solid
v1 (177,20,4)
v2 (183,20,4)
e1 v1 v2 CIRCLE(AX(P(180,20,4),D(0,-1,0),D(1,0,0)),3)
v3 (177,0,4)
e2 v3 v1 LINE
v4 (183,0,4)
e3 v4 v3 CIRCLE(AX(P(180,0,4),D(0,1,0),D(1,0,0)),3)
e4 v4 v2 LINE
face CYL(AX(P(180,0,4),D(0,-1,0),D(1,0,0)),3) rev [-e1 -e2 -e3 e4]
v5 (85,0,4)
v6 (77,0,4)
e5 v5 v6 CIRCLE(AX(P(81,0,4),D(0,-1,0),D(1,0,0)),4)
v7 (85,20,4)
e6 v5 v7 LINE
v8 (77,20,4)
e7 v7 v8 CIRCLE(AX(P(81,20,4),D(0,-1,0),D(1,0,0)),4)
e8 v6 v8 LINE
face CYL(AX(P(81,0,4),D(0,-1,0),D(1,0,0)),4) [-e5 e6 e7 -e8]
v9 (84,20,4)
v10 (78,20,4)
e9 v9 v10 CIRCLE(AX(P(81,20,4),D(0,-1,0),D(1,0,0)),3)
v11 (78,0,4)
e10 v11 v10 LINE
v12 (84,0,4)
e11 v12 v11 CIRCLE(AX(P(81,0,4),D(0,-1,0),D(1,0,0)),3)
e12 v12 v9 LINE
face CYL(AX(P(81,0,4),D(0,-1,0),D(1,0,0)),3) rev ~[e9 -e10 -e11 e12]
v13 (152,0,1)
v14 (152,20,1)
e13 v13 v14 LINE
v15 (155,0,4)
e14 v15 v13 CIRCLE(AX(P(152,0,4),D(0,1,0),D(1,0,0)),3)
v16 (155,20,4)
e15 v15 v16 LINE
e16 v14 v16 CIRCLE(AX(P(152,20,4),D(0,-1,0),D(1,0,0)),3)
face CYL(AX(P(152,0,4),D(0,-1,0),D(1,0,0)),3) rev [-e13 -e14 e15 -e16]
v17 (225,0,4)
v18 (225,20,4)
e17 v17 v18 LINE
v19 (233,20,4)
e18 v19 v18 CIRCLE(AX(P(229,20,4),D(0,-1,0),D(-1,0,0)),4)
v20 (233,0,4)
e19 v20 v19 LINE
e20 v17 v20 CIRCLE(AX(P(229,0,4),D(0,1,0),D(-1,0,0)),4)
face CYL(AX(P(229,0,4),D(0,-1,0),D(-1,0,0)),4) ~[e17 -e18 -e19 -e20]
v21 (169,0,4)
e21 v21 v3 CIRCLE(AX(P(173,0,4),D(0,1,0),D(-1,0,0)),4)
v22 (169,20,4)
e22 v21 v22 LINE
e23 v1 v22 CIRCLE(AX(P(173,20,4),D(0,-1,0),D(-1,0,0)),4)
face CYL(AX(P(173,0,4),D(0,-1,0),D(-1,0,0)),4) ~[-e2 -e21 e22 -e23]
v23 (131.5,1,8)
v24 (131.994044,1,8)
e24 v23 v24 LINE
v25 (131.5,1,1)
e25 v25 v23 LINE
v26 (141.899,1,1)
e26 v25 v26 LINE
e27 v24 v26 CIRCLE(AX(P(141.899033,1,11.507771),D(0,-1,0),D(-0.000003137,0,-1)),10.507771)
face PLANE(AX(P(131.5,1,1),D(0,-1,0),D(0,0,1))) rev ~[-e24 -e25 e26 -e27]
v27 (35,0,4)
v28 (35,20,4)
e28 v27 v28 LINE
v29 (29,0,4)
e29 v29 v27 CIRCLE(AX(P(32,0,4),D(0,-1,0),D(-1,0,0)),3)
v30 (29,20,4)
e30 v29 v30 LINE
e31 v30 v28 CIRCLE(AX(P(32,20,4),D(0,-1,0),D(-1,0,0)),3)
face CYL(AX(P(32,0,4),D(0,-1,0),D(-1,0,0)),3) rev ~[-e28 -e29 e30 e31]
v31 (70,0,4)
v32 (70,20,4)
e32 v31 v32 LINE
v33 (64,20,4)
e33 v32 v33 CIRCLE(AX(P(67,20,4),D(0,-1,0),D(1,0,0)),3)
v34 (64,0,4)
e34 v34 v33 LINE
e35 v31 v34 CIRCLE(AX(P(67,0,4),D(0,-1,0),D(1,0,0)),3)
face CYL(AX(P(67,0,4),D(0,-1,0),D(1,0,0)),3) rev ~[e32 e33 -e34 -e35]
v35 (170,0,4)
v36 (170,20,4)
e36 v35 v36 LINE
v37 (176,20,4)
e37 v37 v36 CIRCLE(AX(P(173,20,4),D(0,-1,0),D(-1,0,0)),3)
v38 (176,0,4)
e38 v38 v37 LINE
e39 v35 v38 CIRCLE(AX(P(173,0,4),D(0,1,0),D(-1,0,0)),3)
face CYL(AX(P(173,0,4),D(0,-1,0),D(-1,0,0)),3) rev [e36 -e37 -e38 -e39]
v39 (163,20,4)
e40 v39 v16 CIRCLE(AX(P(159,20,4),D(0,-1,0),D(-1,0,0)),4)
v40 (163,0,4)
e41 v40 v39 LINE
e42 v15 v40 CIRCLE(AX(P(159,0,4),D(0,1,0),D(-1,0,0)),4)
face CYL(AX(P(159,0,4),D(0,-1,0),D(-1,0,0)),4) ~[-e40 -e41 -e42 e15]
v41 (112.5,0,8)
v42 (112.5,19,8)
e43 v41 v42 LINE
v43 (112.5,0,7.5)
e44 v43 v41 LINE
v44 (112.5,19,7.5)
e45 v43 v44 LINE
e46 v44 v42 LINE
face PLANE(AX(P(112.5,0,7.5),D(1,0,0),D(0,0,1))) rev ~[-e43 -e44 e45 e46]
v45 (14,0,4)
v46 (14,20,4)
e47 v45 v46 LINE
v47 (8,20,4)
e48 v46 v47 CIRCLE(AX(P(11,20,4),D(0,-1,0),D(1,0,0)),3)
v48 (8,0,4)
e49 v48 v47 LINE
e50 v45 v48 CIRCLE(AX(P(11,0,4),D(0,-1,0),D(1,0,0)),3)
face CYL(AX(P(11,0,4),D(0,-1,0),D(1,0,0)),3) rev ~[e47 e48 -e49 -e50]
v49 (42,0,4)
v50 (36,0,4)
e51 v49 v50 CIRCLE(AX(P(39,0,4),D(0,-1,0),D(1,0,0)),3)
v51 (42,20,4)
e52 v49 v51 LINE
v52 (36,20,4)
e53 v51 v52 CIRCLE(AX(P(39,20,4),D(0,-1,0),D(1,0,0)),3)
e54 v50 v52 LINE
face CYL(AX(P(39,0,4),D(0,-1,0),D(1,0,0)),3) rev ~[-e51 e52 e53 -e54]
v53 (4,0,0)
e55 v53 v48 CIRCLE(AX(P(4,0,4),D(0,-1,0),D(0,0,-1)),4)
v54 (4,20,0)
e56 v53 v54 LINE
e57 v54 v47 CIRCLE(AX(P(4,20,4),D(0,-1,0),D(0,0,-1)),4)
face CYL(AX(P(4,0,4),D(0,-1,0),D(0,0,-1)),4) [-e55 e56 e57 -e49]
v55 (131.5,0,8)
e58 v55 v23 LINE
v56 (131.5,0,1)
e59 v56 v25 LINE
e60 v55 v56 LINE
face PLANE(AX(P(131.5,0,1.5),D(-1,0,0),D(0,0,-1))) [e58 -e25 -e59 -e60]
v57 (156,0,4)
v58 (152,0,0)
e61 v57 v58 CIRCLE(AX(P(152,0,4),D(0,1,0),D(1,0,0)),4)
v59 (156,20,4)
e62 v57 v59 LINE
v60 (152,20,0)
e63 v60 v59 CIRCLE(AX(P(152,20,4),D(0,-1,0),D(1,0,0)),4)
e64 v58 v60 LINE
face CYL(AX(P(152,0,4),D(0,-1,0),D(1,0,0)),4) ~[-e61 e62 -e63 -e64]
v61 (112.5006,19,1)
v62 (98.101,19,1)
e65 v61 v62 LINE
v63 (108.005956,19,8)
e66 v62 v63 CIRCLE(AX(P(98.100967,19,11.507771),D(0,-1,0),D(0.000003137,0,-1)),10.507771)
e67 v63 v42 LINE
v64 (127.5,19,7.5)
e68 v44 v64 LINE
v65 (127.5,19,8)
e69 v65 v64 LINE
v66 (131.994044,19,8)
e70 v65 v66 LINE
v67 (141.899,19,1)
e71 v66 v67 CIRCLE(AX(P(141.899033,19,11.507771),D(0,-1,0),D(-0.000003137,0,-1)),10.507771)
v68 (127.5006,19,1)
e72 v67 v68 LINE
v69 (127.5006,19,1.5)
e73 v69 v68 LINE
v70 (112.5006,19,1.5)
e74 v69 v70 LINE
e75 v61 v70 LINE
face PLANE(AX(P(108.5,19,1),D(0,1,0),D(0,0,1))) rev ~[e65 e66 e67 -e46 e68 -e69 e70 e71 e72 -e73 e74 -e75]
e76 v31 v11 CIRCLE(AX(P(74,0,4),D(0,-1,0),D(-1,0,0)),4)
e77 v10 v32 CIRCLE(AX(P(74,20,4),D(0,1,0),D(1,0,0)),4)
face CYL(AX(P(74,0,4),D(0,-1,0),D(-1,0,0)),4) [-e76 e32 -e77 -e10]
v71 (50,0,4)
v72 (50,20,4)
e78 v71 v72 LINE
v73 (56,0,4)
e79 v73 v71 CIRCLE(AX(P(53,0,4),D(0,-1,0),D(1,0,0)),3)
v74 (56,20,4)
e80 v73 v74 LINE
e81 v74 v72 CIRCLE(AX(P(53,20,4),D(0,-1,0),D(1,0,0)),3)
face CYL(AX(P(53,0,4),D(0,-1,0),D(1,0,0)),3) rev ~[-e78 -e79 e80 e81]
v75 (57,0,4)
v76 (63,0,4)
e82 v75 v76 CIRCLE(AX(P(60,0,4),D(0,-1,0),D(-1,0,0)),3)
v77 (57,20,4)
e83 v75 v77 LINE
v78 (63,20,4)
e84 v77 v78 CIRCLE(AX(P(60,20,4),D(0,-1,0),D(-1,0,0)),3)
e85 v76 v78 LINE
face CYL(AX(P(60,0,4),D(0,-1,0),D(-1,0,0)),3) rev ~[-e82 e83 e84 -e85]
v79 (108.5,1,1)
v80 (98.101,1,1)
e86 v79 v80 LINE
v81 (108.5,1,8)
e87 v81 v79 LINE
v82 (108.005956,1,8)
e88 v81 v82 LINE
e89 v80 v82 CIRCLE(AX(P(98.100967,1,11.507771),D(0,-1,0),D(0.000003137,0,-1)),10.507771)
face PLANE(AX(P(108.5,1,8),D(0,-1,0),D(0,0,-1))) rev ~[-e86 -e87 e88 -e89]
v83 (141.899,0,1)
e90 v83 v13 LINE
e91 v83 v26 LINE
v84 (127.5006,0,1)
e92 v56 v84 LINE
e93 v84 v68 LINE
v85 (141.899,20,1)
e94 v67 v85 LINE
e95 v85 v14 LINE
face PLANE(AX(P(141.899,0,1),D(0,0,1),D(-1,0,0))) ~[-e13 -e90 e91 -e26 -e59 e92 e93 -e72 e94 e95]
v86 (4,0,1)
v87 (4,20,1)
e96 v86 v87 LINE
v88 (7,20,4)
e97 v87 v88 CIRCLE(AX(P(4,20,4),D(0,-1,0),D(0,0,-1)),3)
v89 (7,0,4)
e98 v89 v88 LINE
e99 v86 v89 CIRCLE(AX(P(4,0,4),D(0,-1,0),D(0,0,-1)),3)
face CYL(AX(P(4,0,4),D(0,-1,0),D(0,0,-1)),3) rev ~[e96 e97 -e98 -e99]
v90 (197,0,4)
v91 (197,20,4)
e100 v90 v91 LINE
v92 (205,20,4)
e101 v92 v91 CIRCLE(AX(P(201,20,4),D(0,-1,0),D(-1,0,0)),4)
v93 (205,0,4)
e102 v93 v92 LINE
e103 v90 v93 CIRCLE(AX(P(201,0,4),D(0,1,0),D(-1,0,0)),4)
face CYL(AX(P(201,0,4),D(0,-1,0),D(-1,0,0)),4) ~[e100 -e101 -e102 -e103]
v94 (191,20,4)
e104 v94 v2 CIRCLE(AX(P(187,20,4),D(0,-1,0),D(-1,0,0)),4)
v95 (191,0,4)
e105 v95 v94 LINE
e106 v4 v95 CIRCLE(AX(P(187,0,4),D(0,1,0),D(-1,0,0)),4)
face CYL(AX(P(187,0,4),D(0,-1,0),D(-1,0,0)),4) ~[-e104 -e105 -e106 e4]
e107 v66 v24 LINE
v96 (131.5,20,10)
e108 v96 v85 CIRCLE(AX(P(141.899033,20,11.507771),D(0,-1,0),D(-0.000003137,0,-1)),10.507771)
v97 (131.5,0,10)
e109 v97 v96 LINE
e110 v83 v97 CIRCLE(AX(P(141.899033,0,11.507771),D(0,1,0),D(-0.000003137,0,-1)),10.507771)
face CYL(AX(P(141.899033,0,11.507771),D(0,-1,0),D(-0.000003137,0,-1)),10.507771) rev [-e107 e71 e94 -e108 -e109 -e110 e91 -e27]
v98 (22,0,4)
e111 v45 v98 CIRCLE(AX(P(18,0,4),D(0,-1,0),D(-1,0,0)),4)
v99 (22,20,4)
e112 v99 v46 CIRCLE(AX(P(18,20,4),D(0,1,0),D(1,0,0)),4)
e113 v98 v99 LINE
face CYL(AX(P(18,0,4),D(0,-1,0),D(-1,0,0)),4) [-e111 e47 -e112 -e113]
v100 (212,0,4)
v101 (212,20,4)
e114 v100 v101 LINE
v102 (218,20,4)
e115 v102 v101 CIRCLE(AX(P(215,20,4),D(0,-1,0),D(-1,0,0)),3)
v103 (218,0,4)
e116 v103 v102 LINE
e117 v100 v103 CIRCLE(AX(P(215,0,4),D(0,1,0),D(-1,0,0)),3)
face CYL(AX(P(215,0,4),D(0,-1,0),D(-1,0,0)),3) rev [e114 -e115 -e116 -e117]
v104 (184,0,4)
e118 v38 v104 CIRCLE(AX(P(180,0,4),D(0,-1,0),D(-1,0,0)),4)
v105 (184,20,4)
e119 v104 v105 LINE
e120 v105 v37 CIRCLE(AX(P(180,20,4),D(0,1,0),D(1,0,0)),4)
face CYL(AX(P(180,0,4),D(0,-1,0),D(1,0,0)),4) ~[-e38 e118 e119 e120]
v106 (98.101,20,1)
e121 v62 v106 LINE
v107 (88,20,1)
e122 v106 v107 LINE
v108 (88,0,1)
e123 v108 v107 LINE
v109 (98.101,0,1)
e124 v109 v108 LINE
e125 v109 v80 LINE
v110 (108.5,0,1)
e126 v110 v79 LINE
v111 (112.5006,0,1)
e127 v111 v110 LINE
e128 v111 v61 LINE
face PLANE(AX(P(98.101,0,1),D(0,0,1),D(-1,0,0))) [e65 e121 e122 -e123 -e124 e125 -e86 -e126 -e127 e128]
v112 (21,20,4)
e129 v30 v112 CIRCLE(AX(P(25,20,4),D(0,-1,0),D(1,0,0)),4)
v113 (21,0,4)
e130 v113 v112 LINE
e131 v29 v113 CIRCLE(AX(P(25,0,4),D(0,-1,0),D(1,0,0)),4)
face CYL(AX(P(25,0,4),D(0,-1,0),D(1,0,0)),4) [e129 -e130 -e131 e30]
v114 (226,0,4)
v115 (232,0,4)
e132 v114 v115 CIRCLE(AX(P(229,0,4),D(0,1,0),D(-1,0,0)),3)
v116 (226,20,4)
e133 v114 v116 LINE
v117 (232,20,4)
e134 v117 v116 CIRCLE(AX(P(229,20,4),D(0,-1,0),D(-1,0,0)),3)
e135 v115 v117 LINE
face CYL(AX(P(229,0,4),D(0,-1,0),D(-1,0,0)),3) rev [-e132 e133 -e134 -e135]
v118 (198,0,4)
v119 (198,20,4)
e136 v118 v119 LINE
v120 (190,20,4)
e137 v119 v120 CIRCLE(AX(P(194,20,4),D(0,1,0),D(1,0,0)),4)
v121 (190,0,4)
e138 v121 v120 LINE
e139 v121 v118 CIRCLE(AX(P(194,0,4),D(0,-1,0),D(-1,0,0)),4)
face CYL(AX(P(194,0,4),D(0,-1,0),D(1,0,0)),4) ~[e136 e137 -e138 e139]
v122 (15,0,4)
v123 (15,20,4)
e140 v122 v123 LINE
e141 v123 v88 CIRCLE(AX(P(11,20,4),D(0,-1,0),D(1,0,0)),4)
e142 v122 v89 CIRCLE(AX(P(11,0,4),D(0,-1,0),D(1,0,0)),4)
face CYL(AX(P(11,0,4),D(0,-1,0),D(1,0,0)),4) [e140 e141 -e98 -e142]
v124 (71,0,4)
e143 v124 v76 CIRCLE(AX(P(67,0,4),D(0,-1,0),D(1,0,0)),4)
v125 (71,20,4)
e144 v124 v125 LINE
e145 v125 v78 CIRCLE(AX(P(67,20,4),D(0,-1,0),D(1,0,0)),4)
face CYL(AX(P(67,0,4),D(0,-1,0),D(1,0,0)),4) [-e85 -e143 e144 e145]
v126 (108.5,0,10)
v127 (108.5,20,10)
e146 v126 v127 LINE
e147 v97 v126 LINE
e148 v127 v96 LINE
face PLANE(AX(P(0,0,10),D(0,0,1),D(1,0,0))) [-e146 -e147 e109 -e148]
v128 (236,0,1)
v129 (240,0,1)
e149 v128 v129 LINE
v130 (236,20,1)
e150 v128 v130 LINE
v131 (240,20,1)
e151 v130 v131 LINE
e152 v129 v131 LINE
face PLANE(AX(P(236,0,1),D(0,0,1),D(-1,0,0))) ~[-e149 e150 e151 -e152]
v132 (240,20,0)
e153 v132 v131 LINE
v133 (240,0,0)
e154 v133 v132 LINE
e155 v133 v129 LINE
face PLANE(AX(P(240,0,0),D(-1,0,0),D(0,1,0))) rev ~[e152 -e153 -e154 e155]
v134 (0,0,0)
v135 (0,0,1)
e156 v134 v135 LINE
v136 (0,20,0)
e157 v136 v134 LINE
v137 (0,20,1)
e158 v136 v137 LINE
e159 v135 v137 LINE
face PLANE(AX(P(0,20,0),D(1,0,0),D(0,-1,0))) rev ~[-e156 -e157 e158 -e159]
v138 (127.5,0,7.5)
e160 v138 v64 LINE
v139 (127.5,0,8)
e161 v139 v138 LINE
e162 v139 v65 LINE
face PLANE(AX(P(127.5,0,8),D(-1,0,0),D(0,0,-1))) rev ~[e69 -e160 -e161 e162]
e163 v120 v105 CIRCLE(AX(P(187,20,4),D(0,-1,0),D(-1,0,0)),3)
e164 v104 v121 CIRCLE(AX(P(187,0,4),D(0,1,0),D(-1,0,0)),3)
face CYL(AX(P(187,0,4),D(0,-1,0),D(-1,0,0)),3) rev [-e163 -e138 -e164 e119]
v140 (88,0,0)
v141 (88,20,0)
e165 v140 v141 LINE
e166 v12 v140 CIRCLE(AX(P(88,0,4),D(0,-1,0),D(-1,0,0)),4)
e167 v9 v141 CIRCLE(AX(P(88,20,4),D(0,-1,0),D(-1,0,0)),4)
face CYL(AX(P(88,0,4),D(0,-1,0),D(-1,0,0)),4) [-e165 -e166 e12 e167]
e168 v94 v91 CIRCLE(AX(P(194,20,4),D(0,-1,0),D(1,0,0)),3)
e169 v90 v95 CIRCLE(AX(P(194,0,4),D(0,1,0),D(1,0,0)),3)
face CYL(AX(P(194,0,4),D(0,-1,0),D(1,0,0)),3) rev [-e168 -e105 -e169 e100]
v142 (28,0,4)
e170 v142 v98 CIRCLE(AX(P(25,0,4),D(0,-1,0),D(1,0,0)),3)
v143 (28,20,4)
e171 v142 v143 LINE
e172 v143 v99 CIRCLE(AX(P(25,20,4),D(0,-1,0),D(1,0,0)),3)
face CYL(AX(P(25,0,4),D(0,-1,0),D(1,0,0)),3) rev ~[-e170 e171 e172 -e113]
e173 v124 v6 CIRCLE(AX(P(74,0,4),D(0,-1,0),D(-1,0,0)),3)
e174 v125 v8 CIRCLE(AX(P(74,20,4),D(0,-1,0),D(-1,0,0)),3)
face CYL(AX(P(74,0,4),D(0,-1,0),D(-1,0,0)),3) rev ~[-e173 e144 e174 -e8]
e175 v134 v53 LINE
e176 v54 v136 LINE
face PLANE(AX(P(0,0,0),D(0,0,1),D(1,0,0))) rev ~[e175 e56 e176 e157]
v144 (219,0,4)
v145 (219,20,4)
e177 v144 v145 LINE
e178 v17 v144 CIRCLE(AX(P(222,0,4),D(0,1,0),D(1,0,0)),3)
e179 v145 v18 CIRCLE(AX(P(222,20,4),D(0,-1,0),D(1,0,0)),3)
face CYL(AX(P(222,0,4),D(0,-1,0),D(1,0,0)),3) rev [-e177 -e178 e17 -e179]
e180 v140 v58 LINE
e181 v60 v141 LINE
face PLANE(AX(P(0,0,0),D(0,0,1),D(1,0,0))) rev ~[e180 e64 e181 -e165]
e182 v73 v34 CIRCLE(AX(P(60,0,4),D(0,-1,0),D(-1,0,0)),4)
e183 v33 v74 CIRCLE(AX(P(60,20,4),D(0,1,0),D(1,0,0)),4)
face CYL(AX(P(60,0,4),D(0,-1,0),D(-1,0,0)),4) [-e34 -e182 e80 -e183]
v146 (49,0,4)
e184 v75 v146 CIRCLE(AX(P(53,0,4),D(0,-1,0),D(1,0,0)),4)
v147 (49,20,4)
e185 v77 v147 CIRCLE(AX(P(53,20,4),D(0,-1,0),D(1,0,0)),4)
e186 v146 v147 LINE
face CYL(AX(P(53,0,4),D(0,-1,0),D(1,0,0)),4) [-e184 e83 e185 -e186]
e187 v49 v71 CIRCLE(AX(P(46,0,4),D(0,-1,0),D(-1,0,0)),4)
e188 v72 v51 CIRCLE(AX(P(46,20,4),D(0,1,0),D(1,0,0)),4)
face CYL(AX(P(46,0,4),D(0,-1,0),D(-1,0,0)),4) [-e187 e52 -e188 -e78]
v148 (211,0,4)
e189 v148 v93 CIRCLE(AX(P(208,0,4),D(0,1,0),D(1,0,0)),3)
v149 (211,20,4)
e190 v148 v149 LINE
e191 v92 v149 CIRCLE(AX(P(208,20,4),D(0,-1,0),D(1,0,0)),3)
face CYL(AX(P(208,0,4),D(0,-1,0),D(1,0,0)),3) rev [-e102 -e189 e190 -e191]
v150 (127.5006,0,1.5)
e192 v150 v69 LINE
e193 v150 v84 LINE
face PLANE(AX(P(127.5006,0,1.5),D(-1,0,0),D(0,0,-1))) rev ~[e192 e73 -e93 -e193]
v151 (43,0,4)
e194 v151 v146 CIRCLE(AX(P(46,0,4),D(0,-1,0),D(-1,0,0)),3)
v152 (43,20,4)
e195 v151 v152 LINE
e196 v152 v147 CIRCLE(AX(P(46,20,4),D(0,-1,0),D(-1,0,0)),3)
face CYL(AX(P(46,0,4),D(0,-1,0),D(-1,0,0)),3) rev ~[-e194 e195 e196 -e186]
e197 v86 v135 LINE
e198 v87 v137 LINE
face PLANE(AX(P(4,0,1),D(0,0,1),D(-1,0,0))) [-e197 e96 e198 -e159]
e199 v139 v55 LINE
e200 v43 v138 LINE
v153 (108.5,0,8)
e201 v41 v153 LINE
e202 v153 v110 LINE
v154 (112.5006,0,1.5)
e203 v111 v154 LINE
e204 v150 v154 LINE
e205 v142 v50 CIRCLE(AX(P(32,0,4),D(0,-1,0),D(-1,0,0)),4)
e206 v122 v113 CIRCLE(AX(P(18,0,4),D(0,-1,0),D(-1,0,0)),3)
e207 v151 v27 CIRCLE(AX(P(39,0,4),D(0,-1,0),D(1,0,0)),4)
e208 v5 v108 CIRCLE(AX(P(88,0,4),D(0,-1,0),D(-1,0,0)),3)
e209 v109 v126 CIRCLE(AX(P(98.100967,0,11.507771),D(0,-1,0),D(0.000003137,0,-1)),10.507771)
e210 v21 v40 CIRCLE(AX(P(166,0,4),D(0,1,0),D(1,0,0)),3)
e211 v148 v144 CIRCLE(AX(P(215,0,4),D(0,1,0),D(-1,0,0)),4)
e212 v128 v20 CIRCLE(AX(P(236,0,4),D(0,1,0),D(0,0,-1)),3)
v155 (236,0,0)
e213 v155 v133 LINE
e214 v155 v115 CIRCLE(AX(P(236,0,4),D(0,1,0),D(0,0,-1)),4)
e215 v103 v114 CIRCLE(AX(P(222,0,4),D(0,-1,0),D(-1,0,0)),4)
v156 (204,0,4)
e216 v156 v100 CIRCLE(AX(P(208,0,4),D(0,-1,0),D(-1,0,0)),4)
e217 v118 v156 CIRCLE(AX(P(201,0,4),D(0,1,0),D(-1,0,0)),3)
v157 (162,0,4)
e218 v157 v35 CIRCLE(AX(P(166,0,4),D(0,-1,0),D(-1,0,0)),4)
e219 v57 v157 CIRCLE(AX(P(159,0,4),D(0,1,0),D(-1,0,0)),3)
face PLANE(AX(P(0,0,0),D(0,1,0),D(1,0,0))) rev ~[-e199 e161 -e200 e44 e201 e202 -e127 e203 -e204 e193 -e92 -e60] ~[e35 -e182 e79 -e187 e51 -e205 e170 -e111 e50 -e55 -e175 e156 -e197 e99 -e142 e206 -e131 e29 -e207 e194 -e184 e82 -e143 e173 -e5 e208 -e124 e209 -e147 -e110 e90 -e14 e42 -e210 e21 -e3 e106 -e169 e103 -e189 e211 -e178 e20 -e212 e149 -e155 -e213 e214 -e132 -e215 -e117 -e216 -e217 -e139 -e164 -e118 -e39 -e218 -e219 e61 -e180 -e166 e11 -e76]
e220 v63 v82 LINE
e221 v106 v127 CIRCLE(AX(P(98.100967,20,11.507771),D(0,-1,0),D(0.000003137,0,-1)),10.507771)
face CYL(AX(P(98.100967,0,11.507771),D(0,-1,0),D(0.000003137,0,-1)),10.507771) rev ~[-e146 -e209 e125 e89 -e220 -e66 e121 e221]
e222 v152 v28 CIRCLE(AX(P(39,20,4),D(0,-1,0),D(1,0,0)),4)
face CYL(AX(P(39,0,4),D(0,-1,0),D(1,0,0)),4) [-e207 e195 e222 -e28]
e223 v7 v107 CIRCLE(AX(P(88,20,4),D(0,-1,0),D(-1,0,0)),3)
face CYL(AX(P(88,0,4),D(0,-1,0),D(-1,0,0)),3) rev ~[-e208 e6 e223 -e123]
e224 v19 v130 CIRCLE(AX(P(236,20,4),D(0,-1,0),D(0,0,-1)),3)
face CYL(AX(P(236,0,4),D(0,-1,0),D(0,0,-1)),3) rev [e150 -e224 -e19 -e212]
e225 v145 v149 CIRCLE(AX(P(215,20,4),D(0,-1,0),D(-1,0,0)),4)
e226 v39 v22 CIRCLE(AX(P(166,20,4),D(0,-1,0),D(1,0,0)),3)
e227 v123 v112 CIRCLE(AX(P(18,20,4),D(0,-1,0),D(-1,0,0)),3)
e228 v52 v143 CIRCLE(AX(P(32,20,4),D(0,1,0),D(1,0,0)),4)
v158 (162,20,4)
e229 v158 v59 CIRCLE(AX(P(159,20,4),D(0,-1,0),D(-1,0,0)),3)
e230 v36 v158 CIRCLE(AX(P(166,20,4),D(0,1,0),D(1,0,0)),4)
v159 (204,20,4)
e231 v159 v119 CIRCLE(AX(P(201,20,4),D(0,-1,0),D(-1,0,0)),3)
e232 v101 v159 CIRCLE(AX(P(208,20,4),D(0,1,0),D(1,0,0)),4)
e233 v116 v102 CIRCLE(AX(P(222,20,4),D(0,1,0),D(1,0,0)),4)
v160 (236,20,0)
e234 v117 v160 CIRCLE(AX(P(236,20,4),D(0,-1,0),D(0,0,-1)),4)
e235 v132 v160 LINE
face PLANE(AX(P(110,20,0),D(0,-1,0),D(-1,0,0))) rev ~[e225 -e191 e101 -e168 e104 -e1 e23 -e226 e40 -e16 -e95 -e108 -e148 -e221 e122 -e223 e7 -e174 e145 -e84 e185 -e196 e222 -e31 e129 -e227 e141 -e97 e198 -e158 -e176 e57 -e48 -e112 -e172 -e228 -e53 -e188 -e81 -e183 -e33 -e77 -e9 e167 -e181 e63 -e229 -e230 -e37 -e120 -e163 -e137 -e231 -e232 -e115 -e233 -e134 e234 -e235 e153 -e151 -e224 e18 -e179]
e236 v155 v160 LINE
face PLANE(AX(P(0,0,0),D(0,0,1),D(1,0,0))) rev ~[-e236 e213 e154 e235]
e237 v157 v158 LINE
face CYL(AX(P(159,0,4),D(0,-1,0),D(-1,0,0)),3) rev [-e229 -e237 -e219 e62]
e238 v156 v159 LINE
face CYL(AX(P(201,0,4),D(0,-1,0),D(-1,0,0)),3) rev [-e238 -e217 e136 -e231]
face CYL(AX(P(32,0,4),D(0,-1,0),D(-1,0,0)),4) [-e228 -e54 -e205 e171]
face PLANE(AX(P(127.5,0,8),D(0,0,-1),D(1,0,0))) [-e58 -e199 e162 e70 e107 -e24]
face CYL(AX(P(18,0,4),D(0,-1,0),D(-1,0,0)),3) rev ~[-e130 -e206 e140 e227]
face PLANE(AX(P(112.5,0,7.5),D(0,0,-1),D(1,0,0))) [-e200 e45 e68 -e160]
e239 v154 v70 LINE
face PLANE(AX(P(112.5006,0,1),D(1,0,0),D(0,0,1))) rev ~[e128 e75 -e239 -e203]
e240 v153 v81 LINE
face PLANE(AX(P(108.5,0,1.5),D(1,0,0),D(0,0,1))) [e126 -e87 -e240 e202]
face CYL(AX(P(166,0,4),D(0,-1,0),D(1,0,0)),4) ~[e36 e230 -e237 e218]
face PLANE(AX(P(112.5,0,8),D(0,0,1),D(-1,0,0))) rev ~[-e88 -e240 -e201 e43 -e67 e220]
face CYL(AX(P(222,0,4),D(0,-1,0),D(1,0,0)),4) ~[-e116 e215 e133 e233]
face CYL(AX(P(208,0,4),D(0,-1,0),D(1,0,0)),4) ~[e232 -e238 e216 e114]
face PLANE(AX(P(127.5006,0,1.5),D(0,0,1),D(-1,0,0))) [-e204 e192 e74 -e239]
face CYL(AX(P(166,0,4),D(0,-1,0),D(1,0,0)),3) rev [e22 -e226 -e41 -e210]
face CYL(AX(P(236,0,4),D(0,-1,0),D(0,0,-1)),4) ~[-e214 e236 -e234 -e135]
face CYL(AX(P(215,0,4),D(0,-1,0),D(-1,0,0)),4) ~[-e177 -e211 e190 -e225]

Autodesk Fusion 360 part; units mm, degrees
sketch "Sketch1" plane through (0, 0, 0) normal (0, 0, 1) x (1, 0, 0)
  line L0 (0, 0) -> (240, 0)
  line L1 (240, 0) -> (240, 20)
  line L2 (240, 20) -> (0, 20)
  line L3 (0, 20) -> (0, 0)
  line L4 (120, 0) -> (120, 20) construction
  line L5 (130, 20) -> (110, 20)
  line L6 (110, 20) -> (110, 0)
  line L7 (110, 0) -> (130, 0)
  line L8 (130, 0) -> (130, 20)
  line L9 (130, 20) -> (110, 0) construction
  line L10 (110, 20) -> (130, 0) construction
  line L11 (127.5, 19) -> (112.5, 19)
  line L12 (112.5, 19) -> (112.5, 1)
  line L13 (112.5, 1) -> (127.5, 1)
  line L14 (127.5, 1) -> (127.5, 19)
  line L15 (127.5, 19) -> (112.5, 1) construction
  line L16 (112.5, 19) -> (127.5, 1) construction
  point P0 (120, 10)
  point P1 (120, 10)
  dimension "d1" = 240
  dimension "d2" = 20
  dimension "d3" = 20
  dimension "d4" = 15
  dimension "d5" = 18
extrude "Extrude1" add sketch "Sketch1" along normal blind 10 contours L0 L2 L3 L6 | L0 L2 L5 L6 L7 L8 | L0 L1 L2 L8 | L11 L12 L13 L14
sketch "Sketch2" plane through (0, 0, 0) normal (0, -1, 0) x (1, 0, 0)
  line L0 (0, 0) -> (240, 0)
  line L1 (240, 0) -> (240, 10)
  line L2 (240, 10) -> (0, 10)
  line L3 (0, 10) -> (0, 0)
  line L4 (0, 4) -> (100, 4) construction
  arc A0 (4, 1) -> (7, 4) centre (4, 4) ccw
  arc A1 (4, 0) -> (8, 4) centre (4, 4) ccw
  arc A2 (15, 4) -> (7, 4) centre (11, 4) ccw
  arc A3 (14, 4) -> (8, 4) centre (11, 4) ccw
  arc A4 (14, 4) -> (22, 4) centre (18, 4) ccw
  arc A5 (15, 4) -> (21, 4) centre (18, 4) ccw
  arc A6 (29, 4) -> (21, 4) centre (25, 4) ccw
  arc A7 (28, 4) -> (22, 4) centre (25, 4) ccw
  arc A8 (28, 4) -> (36, 4) centre (32, 4) ccw
  arc A9 (29, 4) -> (35, 4) centre (32, 4) ccw
  arc A10 (43, 4) -> (35, 4) centre (39, 4) ccw
  arc A11 (42, 4) -> (36, 4) centre (39, 4) ccw
  arc A12 (42, 4) -> (50, 4) centre (46, 4) ccw
  arc A13 (43, 4) -> (49, 4) centre (46, 4) ccw
  arc A14 (57, 4) -> (49, 4) centre (53, 4) ccw
  arc A15 (56, 4) -> (50, 4) centre (53, 4) ccw
  arc A16 (56, 4) -> (64, 4) centre (60, 4) ccw
  arc A17 (57, 4) -> (63, 4) centre (60, 4) ccw
  arc A18 (71, 4) -> (63, 4) centre (67, 4) ccw
  arc A19 (70, 4) -> (64, 4) centre (67, 4) ccw
  arc A20 (70, 4) -> (78, 4) centre (74, 4) ccw
  arc A21 (71, 4) -> (77, 4) centre (74, 4) ccw
  arc A22 (85, 4) -> (77, 4) centre (81, 4) ccw
  arc A23 (84, 4) -> (78, 4) centre (81, 4) ccw
  line L5 (0, 0) -> (0, 1) construction
  line L6 (0, 1) -> (98.101, 1) construction
  line L7 (98.101, 1) -> (88, 1)
  arc A24 (85, 4) -> (88, 1) centre (88, 4) ccw
  arc A25 (84, 4) -> (88, 0) centre (88, 4) ccw
  line L8 (4, 1) -> (0, 1)
  line L9 (4, 0) -> (0, 0)
  line L10 (98.101, 1) -> (98.101, 0)
  line L11 (120, 10) -> (120, 0) construction
  line L12 (131.5, 10) -> (108.5, 10)
  line L13 (108.5, 10) -> (108.5, 0)
  line L14 (108.5, 0) -> (131.5, 0)
  line L15 (131.5, 0) -> (131.5, 10)
  line L16 (131.5, 10) -> (108.5, 0) construction
  line L17 (108.5, 10) -> (131.5, 0) construction
  arc A26 (98.101, 1) -> (108.5, 10) centre (98.101, 11.5078) ccw
  point P0 (120, 5)
  dimension "d53" = 4
  dimension "d55" = 8
  dimension "d56" = 6
  dimension "d57" = 8
  dimension "d58" = 6
  dimension "d65" = 1
  dimension "d66" = 8
  dimension "d67" = 6
  dimension "d73" = 23
extrude "Extrude2" cut sketch "Sketch2" against normal blind 30 contours L0 A1 A3 A4 | L2 L3 A0 A2 A5 A6 A9 A10 A13 A14 A17 A18 A21 A22 L7 A24 L8 A26 | L0 A4 A7 A8 | L0 A8 A11 A12 | L0 A12 A15 A16 | L0 A16 A19 A20 | L0 A20 A23 A25
ref_plane "WorkPlane1" through (120, 0, 0) normal (1, 0, 0) x (0, 1, 0)
mirror "Mirror1" about plane through (120, 0, 0) normal (1, 0, 0) of "Extrude2"
sketch "Sketch3" plane through (0, 0, 0) normal (0, -1, 0) x (1, 0, 0)
  arc A0 (152, 0) -> (156, 4) centre (152, 4) ccw
  arc A1 (162, 4) -> (156, 4) centre (159, 4) ccw
  arc A2 (162, 4) -> (170, 4) centre (166, 4) ccw
  arc A3 (176, 4) -> (170, 4) centre (173, 4) ccw
  arc A4 (176, 4) -> (184, 4) centre (180, 4) ccw
  arc A5 (190, 4) -> (184, 4) centre (187, 4) ccw
  arc A6 (190, 4) -> (198, 4) centre (194, 4) ccw
  arc A7 (204, 4) -> (198, 4) centre (201, 4) ccw
  arc A8 (204, 4) -> (212, 4) centre (208, 4) ccw
  arc A9 (218, 4) -> (212, 4) centre (215, 4) ccw
  arc A10 (218, 4) -> (226, 4) centre (222, 4) ccw
  arc A11 (232, 4) -> (226, 4) centre (229, 4) ccw
  arc A12 (232, 4) -> (236, 0) centre (236, 4) ccw
  line L0 (236, 0) -> (240, 0)
  line L1 (240, 0) -> (240, 1)
  line L2 (240, 1) -> (236, 1)
  arc A13 (233, 4) -> (236, 1) centre (236, 4) ccw
  arc A14 (233, 4) -> (225, 4) centre (229, 4) ccw
  arc A15 (219, 4) -> (225, 4) centre (222, 4) ccw
  arc A16 (219, 4) -> (211, 4) centre (215, 4) ccw
  arc A17 (205, 4) -> (211, 4) centre (208, 4) ccw
  arc A18 (205, 4) -> (197, 4) centre (201, 4) ccw
  arc A19 (191, 4) -> (197, 4) centre (194, 4) ccw
  arc A20 (191, 4) -> (183, 4) centre (187, 4) ccw
  arc A21 (177, 4) -> (183, 4) centre (180, 4) ccw
  arc A22 (177, 4) -> (169, 4) centre (173, 4) ccw
  arc A23 (163, 4) -> (169, 4) centre (166, 4) ccw
  arc A24 (163, 4) -> (155, 4) centre (159, 4) ccw
  arc A25 (152, 1) -> (155, 4) centre (152, 4) ccw
  line L3 (152, 1) -> (141.899, 1)
  line L4 (131.5, 10) -> (108.5, 10)
  line L5 (98.101, 1) -> (88, 1)
  arc A26 (85, 4) -> (88, 1) centre (88, 4) ccw
  arc A27 (85, 4) -> (77, 4) centre (81, 4) ccw
  arc A28 (71, 4) -> (77, 4) centre (74, 4) ccw
  arc A29 (71, 4) -> (63, 4) centre (67, 4) ccw
  arc A30 (57, 4) -> (63, 4) centre (60, 4) ccw
  arc A31 (57, 4) -> (49, 4) centre (53, 4) ccw
  arc A32 (43, 4) -> (49, 4) centre (46, 4) ccw
  arc A33 (43, 4) -> (35, 4) centre (39, 4) ccw
  arc A34 (29, 4) -> (35, 4) centre (32, 4) ccw
  arc A35 (29, 4) -> (21, 4) centre (25, 4) ccw
  arc A36 (15, 4) -> (21, 4) centre (18, 4) ccw
  arc A37 (15, 4) -> (7, 4) centre (11, 4) ccw
  arc A38 (4, 1) -> (7, 4) centre (4, 4) ccw
  line L6 (4, 1) -> (0, 1)
  line L7 (0, 1) -> (0, 0)
  line L8 (0, 0) -> (4, 0)
  arc A39 (4, 0) -> (8, 4) centre (4, 4) ccw
  arc A40 (14, 4) -> (8, 4) centre (11, 4) ccw
  arc A41 (14, 4) -> (22, 4) centre (18, 4) ccw
  arc A42 (28, 4) -> (22, 4) centre (25, 4) ccw
  arc A43 (28, 4) -> (36, 4) centre (32, 4) ccw
  arc A44 (42, 4) -> (36, 4) centre (39, 4) ccw
  arc A45 (42, 4) -> (50, 4) centre (46, 4) ccw
  arc A46 (56, 4) -> (50, 4) centre (53, 4) ccw
  arc A47 (56, 4) -> (64, 4) centre (60, 4) ccw
  arc A48 (70, 4) -> (64, 4) centre (67, 4) ccw
  arc A49 (70, 4) -> (78, 4) centre (74, 4) ccw
  arc A50 (84, 4) -> (78, 4) centre (81, 4) ccw
  arc A51 (84, 4) -> (88, 0) centre (88, 4) ccw
  line L9 (88, 0) -> (152, 0)
  arc A52 (131.5, 10) -> (141.899, 1) centre (141.899, 11.5078) ccw
  arc A53 (98.101, 1) -> (108.5, 10) centre (98.101, 11.5078) ccw
sketch "Sketch4" plane through (0, 0, 0) normal (0, -1, 0) x (1, 0, 0)
  line L0 (108.5, 10) -> (131.5, 10) construction
  line L1 (131.5, 10) -> (131.5, 0) construction
  line L2 (131.5, 0) -> (108.5, 0) construction
  line L3 (108.5, 0) -> (108.5, 10) construction
  line L4 (88, 0) -> (152, 0)
  line L5 (108.5, 0) -> (131.5, 0) construction
  line L6 (131.5, 0) -> (131.5, 1) construction
  line L7 (131.5, 1) -> (108.5, 1) construction
  line L8 (108.5, 1) -> (108.5, 0) construction
  line L9 (108.5, 1) -> (131.5, 1) construction
  line L10 (131.5, 1) -> (131.5, 1.5) construction
  line L11 (131.5, 1.5) -> (108.5, 1.5)
  line L12 (108.5, 1.5) -> (108.5, 1) construction
  line L13 (131.5, 1.5) -> (108.5, 1.5)
  line L14 (108.5, 1.5) -> (108.5, 7.5)
  line L15 (108.5, 7.5) -> (131.5, 7.5)
  line L16 (131.5, 7.5) -> (131.5, 1.5)
  line L17 (127.5006, 1) -> (112.5006, 1)
  line L18 (112.5006, 1) -> (112.5006, 1.5)
  line L19 (127.5006, 1.5) -> (127.5006, 1)
  line L20 (127.5006, 1) -> (120, 1.5) construction
  line L21 (112.5006, 1) -> (120, 1.5) construction
  line L22 (112.5, 7.5) -> (112.5, 8)
  line L23 (112.5, 8) -> (127.5, 8)
  line L24 (127.5, 8) -> (127.5, 7.5)
  line L25 (120, 7.5) -> (112.5, 8) construction
  line L26 (120, 7.5) -> (127.5, 8) construction
  line L27 (127.5, 7.5) -> (127.5, 1.5) construction
  line L28 (127.5, 8) -> (131.5, 8)
  line L29 (131.5, 8) -> (131.5, 7.5)
  line L30 (112.5, 8) -> (108.5, 8)
  line L31 (108.5, 8) -> (108.5, 7.5)
  line L32 (108.5, 1.5) -> (108.5, 1)
  line L33 (112.5006, 1) -> (108.5, 1)
  line L34 (131.5, 1.5) -> (131.5, 1)
  line L35 (131.5, 1) -> (127.5006, 1)
  point P0 (108.5, 10)
  dimension "d74" = 1
  dimension "d75" = 0.5
  dimension "d76" = 6
  dimension "d78" = 15
  dimension "d80" = 0.5
  dimension "d81" = 15
extrude "Extrude3" cut sketch "Sketch4" against normal blind 19 contours L11 L13 L19 L34 L35 | L11 L13 L14 L15 L16 | L15 L24 L28 L29 | L11 L13 L18 L32 L33 | L15 L22 L30 L31
sketch "Sketch5" plane through (108.5, 0, 0) normal (1, 0, 0) x (0, 1, 0)
  line L0 (0, 8) -> (0, 1)
  line L1 (0, 1) -> (19, 1)
  line L2 (19, 1) -> (19, 8)
  line L3 (19, 8) -> (0, 8)
  line L4 (19, 8) -> (1, 8)
  line L5 (1, 8) -> (1, 1)
  line L6 (1, 1) -> (19, 1)
  line L7 (19, 1) -> (19, 8)
  dimension "d84" = 18
extrude "Extrude4" cut sketch "Sketch5" against normal blind 12 contours L1 L2 L3 L4 L5 L6 L7
sketch "Sketch6" plane through (131.5, 0, 0) normal (-1, 0, 0) x (0, -1, 0)
  line L0 (0, 1) -> (0, 8)
  line L1 (0, 8) -> (-19, 8)
  line L2 (-19, 8) -> (-19, 1)
  line L3 (-19, 1) -> (0, 1)
  line L4 (-19, 1) -> (-1, 1)
  line L5 (-1, 1) -> (-1, 8)
  line L6 (-1, 8) -> (-19, 8)
  line L7 (-19, 8) -> (-19, 1)
  dimension "d87" = 18
extrude "Extrude5" cut sketch "Sketch6" against normal blind 11 contours L1 L2 L3 L4 L5 L6 L7
sketch "Sketch7" plane through (0, 0, 0) normal (0, -1, 0) x (1, 0, 0)
  line L0 (112.5, 7.5) -> (127.5, 7.5)
  line L1 (127.5, 7.5) -> (127.5, 8)
  line L2 (127.5, 8) -> (131.5, 8)
  line L3 (131.5, 8) -> (131.5, 1)
  line L4 (131.5, 1) -> (127.5006, 1)
  line L5 (127.5006, 1) -> (127.5006, 1.5)
  line L6 (127.5006, 1.5) -> (112.5006, 1.5)
  line L7 (112.5006, 1.5) -> (112.5006, 1)
  line L8 (112.5006, 1) -> (108.5, 1)
  line L9 (108.5, 1) -> (108.5, 8)
  line L10 (108.5, 8) -> (112.5, 8)
  line L11 (112.5, 8) -> (112.5, 7.5)
  arc A0 (152, 0) -> (156, 4) centre (152, 4) ccw
  arc A1 (162, 4) -> (156, 4) centre (159, 4) ccw
  arc A2 (162, 4) -> (170, 4) centre (166, 4) ccw
  arc A3 (176, 4) -> (170, 4) centre (173, 4) ccw
  arc A4 (176, 4) -> (184, 4) centre (180, 4) ccw
  arc A5 (190, 4) -> (184, 4) centre (187, 4) ccw
  arc A6 (190, 4) -> (198, 4) centre (194, 4) ccw
  arc A7 (204, 4) -> (198, 4) centre (201, 4) ccw
  arc A8 (204, 4) -> (212, 4) centre (208, 4) ccw
  arc A9 (218, 4) -> (212, 4) centre (215, 4) ccw
  arc A10 (218, 4) -> (226, 4) centre (222, 4) ccw
  arc A11 (232, 4) -> (226, 4) centre (229, 4) ccw
  arc A12 (232, 4) -> (236, 0) centre (236, 4) ccw
  line L12 (236, 0) -> (240, 0)
  line L13 (240, 0) -> (240, 1)
  line L14 (240, 1) -> (236, 1)
  arc A13 (233, 4) -> (236, 1) centre (236, 4) ccw
  arc A14 (233, 4) -> (225, 4) centre (229, 4) ccw
  arc A15 (219, 4) -> (225, 4) centre (222, 4) ccw
  arc A16 (219, 4) -> (211, 4) centre (215, 4) ccw
  arc A17 (205, 4) -> (211, 4) centre (208, 4) ccw
  arc A18 (205, 4) -> (197, 4) centre (201, 4) ccw
  arc A19 (191, 4) -> (197, 4) centre (194, 4) ccw
  arc A20 (191, 4) -> (183, 4) centre (187, 4) ccw
  arc A21 (177, 4) -> (183, 4) centre (180, 4) ccw
  arc A22 (177, 4) -> (169, 4) centre (173, 4) ccw
  arc A23 (163, 4) -> (169, 4) centre (166, 4) ccw
  arc A24 (163, 4) -> (155, 4) centre (159, 4) ccw
  arc A25 (152, 1) -> (155, 4) centre (152, 4) ccw
  line L15 (152, 1) -> (141.899, 1)
  arc A26 (131.5, 10) -> (141.899, 1) centre (141.899, 11.5078) ccw
  line L16 (131.5, 10) -> (108.5, 10)
  arc A27 (98.101, 1) -> (108.5, 10) centre (98.101, 11.5078) ccw
  line L17 (98.101, 1) -> (88, 1)
  arc A28 (85, 4) -> (88, 1) centre (88, 4) ccw
  arc A29 (85, 4) -> (77, 4) centre (81, 4) ccw
  arc A30 (71, 4) -> (77, 4) centre (74, 4) ccw
  arc A31 (71, 4) -> (63, 4) centre (67, 4) ccw
  arc A32 (57, 4) -> (63, 4) centre (60, 4) ccw
  arc A33 (57, 4) -> (49, 4) centre (53, 4) ccw
  arc A34 (43, 4) -> (49, 4) centre (46, 4) ccw
  arc A35 (43, 4) -> (35, 4) centre (39, 4) ccw
  arc A36 (29, 4) -> (35, 4) centre (32, 4) ccw
  arc A37 (29, 4) -> (21, 4) centre (25, 4) ccw
  arc A38 (15, 4) -> (21, 4) centre (18, 4) ccw
  arc A39 (15, 4) -> (7, 4) centre (11, 4) ccw
  arc A40 (4, 1) -> (7, 4) centre (4, 4) ccw
  line L18 (4, 1) -> (0, 1)
  line L19 (0, 1) -> (0, 0)
  line L20 (0, 0) -> (4, 0)
  arc A41 (4, 0) -> (8, 4) centre (4, 4) ccw
  arc A42 (14, 4) -> (8, 4) centre (11, 4) ccw
  arc A43 (14, 4) -> (22, 4) centre (18, 4) ccw
  arc A44 (28, 4) -> (22, 4) centre (25, 4) ccw
  arc A45 (28, 4) -> (36, 4) centre (32, 4) ccw
  arc A46 (42, 4) -> (36, 4) centre (39, 4) ccw
  arc A47 (42, 4) -> (50, 4) centre (46, 4) ccw
  arc A48 (56, 4) -> (50, 4) centre (53, 4) ccw
  arc A49 (56, 4) -> (64, 4) centre (60, 4) ccw
  arc A50 (70, 4) -> (64, 4) centre (67, 4) ccw
  arc A51 (70, 4) -> (78, 4) centre (74, 4) ccw
  arc A52 (84, 4) -> (78, 4) centre (81, 4) ccw
  arc A53 (84, 4) -> (88, 0) centre (88, 4) ccw
  line L21 (88, 0) -> (152, 0)
equation "d57 = d55"
equation "d58 = d56"
equation "d66 = d55"
equation "d67 = d56"
